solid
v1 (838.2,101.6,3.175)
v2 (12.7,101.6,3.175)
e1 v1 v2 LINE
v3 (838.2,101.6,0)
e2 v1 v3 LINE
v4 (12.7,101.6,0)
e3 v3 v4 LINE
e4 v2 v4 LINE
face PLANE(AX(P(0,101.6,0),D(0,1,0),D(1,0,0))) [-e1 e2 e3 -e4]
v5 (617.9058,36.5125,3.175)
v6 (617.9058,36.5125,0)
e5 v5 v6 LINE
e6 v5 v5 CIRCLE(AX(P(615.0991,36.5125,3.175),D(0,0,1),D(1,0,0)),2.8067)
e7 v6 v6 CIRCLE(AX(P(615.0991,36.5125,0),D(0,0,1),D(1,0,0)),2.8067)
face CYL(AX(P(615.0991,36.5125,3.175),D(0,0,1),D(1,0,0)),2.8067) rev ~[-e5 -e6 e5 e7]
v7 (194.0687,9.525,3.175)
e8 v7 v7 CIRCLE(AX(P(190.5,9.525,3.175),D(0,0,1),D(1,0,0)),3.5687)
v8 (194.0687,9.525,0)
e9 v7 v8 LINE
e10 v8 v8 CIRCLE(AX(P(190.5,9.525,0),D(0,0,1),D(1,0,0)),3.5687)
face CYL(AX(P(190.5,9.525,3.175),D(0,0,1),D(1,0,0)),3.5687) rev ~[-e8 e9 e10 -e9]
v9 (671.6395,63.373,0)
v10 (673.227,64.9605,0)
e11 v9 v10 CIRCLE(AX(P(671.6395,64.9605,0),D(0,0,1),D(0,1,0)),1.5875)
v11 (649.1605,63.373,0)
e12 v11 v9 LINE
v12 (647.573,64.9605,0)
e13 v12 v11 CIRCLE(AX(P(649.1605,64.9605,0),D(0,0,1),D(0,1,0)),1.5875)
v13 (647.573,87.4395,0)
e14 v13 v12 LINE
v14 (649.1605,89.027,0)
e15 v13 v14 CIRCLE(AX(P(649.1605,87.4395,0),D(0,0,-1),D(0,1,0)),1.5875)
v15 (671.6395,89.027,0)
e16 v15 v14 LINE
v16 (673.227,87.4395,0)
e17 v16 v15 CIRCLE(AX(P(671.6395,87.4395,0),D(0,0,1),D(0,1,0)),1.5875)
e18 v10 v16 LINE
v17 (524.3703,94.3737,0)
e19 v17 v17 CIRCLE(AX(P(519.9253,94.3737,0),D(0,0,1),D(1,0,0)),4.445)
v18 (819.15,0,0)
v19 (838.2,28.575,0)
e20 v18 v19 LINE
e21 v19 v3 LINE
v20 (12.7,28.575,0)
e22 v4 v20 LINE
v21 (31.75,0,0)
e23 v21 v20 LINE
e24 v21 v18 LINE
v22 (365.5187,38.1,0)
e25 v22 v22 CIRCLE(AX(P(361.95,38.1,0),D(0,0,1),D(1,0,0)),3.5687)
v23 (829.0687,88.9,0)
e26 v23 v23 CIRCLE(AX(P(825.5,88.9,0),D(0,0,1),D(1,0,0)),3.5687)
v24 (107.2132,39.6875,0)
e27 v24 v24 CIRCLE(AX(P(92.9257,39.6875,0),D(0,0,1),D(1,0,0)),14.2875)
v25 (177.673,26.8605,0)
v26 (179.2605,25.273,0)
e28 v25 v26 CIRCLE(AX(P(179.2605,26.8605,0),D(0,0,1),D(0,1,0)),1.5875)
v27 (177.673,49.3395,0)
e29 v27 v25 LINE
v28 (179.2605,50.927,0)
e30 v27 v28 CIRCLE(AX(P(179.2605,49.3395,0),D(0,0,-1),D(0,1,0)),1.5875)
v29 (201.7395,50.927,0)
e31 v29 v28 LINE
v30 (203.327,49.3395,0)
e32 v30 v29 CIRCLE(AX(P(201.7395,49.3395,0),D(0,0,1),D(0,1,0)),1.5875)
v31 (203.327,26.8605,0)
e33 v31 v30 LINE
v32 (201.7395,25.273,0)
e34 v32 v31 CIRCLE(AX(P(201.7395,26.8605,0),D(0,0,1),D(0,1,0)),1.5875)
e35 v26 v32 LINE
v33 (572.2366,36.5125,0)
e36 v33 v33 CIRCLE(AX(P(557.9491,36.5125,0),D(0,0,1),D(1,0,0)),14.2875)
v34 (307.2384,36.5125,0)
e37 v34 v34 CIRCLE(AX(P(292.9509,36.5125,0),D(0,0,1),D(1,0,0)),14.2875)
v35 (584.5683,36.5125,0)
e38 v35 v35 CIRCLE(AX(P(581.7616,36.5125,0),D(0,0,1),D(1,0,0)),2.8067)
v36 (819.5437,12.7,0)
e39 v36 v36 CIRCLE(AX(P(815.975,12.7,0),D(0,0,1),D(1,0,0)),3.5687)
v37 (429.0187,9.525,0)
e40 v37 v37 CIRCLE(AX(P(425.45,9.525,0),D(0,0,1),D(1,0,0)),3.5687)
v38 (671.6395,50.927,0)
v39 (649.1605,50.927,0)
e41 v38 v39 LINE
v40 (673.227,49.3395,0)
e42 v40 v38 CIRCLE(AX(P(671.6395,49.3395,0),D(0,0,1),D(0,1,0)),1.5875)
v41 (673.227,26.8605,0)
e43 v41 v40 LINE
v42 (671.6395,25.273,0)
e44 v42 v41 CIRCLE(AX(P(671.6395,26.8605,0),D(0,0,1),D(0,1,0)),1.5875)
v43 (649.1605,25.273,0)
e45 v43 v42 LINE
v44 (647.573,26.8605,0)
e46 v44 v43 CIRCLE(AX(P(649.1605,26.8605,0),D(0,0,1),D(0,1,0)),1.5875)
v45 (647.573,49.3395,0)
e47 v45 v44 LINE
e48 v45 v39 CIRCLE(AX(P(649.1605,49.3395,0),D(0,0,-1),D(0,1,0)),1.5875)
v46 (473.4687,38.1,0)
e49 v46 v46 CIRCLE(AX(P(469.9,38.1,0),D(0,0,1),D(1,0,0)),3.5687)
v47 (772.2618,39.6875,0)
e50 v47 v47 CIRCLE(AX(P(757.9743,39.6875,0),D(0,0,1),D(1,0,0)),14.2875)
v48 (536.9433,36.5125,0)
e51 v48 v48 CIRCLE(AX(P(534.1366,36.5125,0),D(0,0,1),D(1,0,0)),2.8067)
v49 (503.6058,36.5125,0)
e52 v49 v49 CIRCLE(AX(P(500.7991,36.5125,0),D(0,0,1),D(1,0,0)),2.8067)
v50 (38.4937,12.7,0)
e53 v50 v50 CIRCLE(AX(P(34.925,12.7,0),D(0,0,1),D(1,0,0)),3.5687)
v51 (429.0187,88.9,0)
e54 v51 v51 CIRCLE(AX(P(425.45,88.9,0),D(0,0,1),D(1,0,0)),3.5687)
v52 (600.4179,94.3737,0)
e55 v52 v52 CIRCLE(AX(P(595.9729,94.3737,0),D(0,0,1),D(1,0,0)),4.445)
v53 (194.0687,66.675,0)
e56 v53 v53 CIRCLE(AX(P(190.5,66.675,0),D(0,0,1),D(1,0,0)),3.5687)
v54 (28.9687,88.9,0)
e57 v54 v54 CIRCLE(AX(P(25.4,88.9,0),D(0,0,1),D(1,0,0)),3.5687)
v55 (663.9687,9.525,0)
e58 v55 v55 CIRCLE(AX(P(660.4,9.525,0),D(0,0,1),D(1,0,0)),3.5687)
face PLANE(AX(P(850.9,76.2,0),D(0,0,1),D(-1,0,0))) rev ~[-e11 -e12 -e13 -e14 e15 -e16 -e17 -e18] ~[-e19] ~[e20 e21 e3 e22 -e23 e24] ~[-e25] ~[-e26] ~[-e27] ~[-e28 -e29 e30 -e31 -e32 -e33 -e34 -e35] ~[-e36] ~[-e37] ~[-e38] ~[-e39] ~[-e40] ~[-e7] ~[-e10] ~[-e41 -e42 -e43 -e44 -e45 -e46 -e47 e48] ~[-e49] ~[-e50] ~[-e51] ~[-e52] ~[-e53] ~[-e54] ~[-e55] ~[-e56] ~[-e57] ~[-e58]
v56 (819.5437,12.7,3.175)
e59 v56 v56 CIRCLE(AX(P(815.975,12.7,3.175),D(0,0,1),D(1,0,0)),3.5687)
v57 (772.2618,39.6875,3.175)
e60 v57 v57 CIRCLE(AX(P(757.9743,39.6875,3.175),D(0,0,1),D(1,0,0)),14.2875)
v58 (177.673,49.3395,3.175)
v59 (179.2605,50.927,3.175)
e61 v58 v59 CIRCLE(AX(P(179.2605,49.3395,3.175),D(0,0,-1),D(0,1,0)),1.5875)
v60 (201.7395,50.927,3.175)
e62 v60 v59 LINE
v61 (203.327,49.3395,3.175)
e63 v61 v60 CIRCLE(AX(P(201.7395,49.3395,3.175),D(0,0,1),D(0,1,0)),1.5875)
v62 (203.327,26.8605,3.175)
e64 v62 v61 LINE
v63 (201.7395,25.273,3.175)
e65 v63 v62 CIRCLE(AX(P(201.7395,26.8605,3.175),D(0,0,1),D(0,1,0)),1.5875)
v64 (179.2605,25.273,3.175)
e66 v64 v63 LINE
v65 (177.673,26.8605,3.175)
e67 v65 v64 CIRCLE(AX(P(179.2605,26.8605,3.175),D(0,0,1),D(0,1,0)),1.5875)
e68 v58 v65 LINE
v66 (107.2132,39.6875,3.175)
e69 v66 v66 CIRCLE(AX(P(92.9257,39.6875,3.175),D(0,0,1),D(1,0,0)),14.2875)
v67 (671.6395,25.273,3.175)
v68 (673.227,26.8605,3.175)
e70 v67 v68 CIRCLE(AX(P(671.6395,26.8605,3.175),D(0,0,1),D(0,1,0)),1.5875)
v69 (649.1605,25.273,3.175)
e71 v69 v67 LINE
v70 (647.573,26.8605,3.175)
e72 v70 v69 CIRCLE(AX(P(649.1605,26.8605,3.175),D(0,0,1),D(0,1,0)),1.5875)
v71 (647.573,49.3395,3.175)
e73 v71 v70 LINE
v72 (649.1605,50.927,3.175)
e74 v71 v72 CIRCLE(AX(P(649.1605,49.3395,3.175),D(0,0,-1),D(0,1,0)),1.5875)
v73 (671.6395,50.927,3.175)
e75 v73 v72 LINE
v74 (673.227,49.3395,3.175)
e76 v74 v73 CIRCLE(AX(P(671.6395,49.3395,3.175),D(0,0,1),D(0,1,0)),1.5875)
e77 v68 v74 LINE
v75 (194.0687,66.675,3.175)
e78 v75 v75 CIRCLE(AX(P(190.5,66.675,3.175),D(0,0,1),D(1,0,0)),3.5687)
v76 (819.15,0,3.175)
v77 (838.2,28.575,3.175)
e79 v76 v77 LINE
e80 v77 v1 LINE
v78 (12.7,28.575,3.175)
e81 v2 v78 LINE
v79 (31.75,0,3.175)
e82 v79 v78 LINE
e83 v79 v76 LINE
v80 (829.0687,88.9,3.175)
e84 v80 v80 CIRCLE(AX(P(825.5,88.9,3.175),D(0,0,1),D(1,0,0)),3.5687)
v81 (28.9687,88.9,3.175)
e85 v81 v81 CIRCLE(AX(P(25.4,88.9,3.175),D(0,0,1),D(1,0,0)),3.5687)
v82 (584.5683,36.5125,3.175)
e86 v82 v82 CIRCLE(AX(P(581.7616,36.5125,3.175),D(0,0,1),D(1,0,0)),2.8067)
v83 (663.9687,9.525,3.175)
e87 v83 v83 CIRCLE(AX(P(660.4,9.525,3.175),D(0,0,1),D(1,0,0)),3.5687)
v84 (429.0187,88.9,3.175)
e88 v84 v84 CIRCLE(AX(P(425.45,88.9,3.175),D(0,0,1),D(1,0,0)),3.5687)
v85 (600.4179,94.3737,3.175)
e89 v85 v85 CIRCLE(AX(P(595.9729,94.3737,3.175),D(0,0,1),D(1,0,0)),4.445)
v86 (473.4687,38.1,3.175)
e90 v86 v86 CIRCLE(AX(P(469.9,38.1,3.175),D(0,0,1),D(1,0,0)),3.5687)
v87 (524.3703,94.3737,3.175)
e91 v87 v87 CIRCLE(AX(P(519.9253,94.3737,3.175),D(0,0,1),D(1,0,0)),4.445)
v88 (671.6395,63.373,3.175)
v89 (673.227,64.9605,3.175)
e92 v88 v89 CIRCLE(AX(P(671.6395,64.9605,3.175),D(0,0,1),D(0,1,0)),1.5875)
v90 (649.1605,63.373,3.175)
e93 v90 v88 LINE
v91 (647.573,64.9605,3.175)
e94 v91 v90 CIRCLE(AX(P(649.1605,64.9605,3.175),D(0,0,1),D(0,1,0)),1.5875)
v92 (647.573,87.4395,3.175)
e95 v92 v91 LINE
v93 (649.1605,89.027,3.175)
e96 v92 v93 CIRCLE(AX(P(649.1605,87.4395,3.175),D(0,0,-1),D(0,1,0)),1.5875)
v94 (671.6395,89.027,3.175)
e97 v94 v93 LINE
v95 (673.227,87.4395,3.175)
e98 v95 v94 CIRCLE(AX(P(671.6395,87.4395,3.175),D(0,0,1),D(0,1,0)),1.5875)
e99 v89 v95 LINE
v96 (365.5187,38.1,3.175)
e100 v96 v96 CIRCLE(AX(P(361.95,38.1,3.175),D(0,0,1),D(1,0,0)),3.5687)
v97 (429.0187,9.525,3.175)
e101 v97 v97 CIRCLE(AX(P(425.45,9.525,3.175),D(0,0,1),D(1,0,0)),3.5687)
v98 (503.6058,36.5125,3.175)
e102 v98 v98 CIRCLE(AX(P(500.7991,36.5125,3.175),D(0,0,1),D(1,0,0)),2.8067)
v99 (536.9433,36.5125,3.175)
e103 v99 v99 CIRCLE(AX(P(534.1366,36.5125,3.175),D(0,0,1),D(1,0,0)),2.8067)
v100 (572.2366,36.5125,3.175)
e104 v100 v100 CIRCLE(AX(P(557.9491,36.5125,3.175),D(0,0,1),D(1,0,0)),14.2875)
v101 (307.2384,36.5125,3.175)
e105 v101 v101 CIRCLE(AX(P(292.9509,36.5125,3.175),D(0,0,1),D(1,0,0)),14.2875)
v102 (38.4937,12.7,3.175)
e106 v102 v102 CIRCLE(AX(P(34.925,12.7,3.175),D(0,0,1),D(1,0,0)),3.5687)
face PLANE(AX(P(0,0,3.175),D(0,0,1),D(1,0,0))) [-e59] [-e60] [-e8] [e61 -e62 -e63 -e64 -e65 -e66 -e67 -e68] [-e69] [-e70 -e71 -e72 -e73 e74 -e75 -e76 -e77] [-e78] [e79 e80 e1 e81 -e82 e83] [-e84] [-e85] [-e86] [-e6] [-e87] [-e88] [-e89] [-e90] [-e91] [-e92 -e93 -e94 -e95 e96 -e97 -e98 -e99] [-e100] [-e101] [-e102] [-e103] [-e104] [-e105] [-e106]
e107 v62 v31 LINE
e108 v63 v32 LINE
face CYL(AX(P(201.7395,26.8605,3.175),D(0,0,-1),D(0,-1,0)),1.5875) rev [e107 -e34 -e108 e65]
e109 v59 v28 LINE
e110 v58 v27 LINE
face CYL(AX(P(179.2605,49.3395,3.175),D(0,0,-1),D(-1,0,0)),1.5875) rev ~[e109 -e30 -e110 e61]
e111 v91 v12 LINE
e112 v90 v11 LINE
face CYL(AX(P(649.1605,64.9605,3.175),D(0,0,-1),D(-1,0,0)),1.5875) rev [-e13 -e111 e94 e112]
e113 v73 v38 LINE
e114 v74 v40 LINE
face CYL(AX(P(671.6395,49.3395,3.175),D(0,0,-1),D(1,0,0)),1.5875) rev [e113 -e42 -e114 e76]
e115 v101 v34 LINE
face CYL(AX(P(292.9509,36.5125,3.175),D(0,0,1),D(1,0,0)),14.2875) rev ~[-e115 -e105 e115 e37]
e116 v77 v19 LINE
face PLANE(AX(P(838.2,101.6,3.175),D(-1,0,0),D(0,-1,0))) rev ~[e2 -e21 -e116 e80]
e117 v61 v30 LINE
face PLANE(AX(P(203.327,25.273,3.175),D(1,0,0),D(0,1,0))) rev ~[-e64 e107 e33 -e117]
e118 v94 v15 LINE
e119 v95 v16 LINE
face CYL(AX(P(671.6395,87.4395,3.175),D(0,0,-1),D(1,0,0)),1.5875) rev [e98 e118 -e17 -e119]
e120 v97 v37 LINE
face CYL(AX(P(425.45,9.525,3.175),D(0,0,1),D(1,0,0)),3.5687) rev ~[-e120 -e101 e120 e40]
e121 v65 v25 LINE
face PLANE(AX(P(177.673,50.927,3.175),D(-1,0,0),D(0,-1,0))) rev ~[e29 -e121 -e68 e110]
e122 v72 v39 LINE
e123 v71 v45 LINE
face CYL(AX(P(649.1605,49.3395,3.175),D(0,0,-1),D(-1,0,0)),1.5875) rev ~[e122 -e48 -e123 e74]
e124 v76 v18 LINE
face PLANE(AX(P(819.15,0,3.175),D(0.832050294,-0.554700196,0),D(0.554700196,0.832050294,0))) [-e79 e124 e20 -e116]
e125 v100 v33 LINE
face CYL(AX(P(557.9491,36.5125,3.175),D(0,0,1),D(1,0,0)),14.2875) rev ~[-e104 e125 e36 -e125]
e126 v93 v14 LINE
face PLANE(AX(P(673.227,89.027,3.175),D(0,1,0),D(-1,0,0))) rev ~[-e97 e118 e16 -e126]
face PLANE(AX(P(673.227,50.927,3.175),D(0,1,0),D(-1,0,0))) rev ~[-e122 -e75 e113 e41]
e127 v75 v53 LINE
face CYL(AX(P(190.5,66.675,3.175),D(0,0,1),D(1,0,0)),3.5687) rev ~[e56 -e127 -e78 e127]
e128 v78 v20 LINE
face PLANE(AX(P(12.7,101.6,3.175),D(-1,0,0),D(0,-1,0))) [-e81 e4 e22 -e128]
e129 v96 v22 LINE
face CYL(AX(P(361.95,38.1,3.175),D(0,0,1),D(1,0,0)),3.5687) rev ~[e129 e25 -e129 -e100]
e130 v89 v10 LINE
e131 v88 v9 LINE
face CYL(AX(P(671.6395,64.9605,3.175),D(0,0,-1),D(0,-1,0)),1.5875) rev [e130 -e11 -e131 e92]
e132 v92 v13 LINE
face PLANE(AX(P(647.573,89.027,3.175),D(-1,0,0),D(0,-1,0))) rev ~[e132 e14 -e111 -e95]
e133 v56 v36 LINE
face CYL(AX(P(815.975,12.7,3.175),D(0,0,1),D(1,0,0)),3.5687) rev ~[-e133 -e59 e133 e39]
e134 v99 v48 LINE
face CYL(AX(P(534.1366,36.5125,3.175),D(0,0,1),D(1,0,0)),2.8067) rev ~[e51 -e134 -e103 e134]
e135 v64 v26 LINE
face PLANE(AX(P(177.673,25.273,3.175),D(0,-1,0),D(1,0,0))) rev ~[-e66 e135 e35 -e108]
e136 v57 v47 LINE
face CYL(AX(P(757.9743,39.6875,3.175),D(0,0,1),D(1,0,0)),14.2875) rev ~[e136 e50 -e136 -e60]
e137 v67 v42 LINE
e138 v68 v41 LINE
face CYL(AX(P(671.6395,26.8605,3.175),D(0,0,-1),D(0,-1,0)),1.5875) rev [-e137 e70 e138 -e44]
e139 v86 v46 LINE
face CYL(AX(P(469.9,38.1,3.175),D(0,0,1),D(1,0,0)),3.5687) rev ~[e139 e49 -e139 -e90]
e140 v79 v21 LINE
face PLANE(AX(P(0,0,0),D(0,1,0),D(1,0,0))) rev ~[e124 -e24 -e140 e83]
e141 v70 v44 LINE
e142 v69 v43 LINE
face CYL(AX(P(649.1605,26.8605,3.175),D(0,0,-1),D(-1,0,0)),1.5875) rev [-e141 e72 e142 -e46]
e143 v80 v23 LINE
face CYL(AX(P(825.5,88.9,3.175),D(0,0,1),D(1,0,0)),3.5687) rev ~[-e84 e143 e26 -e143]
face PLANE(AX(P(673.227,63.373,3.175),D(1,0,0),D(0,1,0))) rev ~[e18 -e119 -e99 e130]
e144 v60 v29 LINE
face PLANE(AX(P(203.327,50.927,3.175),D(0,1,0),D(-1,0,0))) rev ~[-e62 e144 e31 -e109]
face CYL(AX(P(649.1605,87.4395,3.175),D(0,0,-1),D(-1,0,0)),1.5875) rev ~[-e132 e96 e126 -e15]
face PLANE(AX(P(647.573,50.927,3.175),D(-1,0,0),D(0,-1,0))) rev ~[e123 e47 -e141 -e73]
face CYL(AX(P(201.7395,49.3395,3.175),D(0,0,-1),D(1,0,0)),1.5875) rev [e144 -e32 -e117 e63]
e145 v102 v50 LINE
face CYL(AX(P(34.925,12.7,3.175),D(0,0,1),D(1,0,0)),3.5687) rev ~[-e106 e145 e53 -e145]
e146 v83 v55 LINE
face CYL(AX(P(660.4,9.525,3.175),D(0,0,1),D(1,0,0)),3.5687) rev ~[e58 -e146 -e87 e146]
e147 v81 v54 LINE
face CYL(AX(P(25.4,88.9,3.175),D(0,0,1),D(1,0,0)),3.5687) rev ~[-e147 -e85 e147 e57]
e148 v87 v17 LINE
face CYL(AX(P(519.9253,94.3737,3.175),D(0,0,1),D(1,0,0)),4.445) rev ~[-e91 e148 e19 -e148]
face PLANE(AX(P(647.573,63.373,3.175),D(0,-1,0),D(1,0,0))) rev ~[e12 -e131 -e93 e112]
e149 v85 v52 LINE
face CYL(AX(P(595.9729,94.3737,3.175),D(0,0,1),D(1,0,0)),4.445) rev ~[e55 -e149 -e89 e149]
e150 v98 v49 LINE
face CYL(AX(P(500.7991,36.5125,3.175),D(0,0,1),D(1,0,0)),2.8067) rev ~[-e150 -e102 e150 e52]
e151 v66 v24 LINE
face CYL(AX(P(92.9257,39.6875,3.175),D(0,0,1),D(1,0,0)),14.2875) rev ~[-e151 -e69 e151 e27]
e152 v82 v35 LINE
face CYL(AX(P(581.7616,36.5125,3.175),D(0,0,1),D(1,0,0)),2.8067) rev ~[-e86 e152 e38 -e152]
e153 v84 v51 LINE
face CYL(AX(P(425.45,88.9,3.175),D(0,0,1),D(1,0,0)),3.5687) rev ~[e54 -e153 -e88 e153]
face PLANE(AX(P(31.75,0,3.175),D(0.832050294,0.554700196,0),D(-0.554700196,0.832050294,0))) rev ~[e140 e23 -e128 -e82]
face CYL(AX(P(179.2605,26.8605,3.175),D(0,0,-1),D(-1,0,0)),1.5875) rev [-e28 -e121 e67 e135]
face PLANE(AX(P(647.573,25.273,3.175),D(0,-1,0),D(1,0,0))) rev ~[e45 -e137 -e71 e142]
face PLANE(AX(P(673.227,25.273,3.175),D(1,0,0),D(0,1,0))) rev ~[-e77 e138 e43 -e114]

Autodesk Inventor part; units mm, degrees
ref_plane "YZ Plane" through (0, 0, 0) normal (1, 0, 0) x (0, 1, 0)
ref_plane "XZ Plane" through (0, 0, 0) normal (0, 1, 0) x (-1, 0, 0)
ref_plane "XY Plane" through (0, 0, 0) normal (0, 0, 1) x (1, 0, 0)
sketch "Sketch1" plane through (0, 0, 0) normal (0, 0, 1) x (1, 0, 0)
  line L0 (0, 0) -> (850.9, 0)
  line L1 (850.9, 0) -> (850.9, 76.2)
  line L2 (850.9, 76.2) -> (0, 76.2)
  line L3 (0, 76.2) -> (0, 0)
  dimension "d0" = 850.9
  dimension "d1" = 76.2
extrude "Extrusion1" add sketch "Sketch1" along normal blind 3.175
sketch "Sketch4" plane through (0, 0, 3.175) normal (0, 0, 1) x (1, 0, 0)
  line L0 (0, 0) -> (0, 38.1)
  line L1 (0, 76.2) -> (0, 0) projected
  line L2 (0, 0) -> (25.4, 0)
  line L3 (0, 0) -> (850.9, 0) projected
  line L4 (25.4, 0) -> (0, 38.1)
  line L5 (850.9, 0) -> (825.5, 0)
  line L6 (850.9, 0) -> (850.9, 38.1)
  line L7 (850.9, 0) -> (850.9, 76.2) projected
  line L8 (850.9, 38.1) -> (825.5, 0)
  line L9 (0, 38.1) -> (0, 36.5125)
  circle A0 centre (292.9509, 36.5125) radius 14.2875
  circle A1 centre (557.9491, 36.5125) radius 14.2875
  circle A2 centre (757.9743, 39.6875) radius 14.2875
  circle A3 centre (92.9257, 39.6875) radius 14.2875
  dimension "d24" = 38.1
  dimension "d26" = 25.4
  dimension "d27" = 38.1
  dimension "d33" = 28.575
  dimension "d34" = 28.575
  dimension "d38" = 28.575
  dimension "d39" = 28.575
extrude "Extrusion3" cut sketch "Sketch4" against normal blind 3.175
sketch "Sketch5" plane through (0, 0, 3.175) normal (0, 0, 1) x (1, 0, 0)
  line L0 (850.9, 76.2) -> (0, 76.2) projected
  line L1 (0, 76.2) -> (425.45, 76.2)
  circle A0 centre (425.45, 66.675) radius 3.5687
  circle A1 centre (425.45, 9.525) radius 3.5687
  line L2 (25.4, 0) -> (825.5, 0) projected
  line L3 (0, 76.2) -> (190.5, 76.2)
  circle A2 centre (190.5, 66.675) radius 3.5687
  circle A3 centre (190.5, 9.525) radius 3.5687
  circle A4 centre (190.5, 38.1) radius 3.5687
  line L4 (850.9, 38.1) -> (850.9, 76.2) projected
  line L5 (850.9, 76.2) -> (660.4, 76.2)
  circle A5 centre (660.4, 66.675) radius 3.5687
  circle A6 centre (660.4, 9.525) radius 3.5687
  circle A7 centre (660.4, 38.1) radius 3.5687
  circle A8 centre (838.2, 63.5) radius 3.5687
  circle A9 centre (12.7, 63.5) radius 3.5687
  line L6 (0, 76.2) -> (0, 38.1) projected
  circle A10 centre (34.925, 12.7) radius 3.5687
  circle A11 centre (815.975, 12.7) radius 3.5687
  point P0 (0, 0)
  dimension "d42" = 425.45
  dimension "d43" = 7.1374
  dimension "d44" = 9.525
  dimension "d45" = 7.1374
  dimension "d46" = 9.525
  dimension "d47" = 190.5
  dimension "d48" = 7.1374
  dimension "d49" = 9.525
  dimension "d50" = 7.1374
  dimension "d51" = 9.525
  dimension "d52" = 7.1374
  dimension "d53" = 38.1
  dimension "d54" = 190.5
  dimension "d55" = 7.1374
  dimension "d56" = 9.525
  dimension "d57" = 7.1374
  dimension "d58" = 9.525
  dimension "d59" = 7.1374
  dimension "d60" = 38.1
  dimension "d61" = 7.1374
  dimension "d62" = 12.7
  dimension "d63" = 12.7
  dimension "d64" = 7.1374
  dimension "d65" = 12.7
  dimension "d66" = 12.7
  dimension "d67" = 7.1374
  dimension "d69" = 12.7
  dimension "d70" = 9.525
  dimension "d71" = 7.1374
  dimension "d72" = 12.7
  dimension "d73" = 9.525
extrude "Extrusion4" cut sketch "Sketch5" against normal blind 3.175
sketch "Sketch6" plane through (0, 0, 3.175) normal (0, 0, 1) x (1, 0, 0)
  circle A0 centre (190.5, 38.1) radius 3.5687 projected
  circle A1 centre (660.4, 38.1) radius 3.5687 projected
  line L0 (177.673, 25.273) -> (203.327, 25.273)
  line L1 (203.327, 25.273) -> (203.327, 50.927)
  line L2 (203.327, 50.927) -> (177.673, 50.927)
  line L3 (177.673, 50.927) -> (177.673, 25.273)
  line L4 (177.673, 25.273) -> (203.327, 50.927) construction
  line L5 (203.327, 25.273) -> (177.673, 50.927) construction
  line L6 (647.573, 25.273) -> (673.227, 25.273)
  line L7 (673.227, 25.273) -> (673.227, 50.927)
  line L8 (673.227, 50.927) -> (647.573, 50.927)
  line L9 (647.573, 50.927) -> (647.573, 25.273)
  line L10 (647.573, 25.273) -> (673.227, 50.927) construction
  line L11 (673.227, 25.273) -> (647.573, 50.927) construction
  point P0 (0, 0)
  dimension "d76" = 25.654
  dimension "d77" = 25.654
  dimension "d78" = 25.654
  dimension "d79" = 25.654
extrude "Extrusion5" cut sketch "Sketch6" against normal blind 3.175
fillet "Fillet1" radius 1.5875 8 edges at (177.673, 25.273, 1.5875) (203.327, 25.273, 1.5875) (203.327, 50.927, 1.5875) (177.673, 50.927, 1.5875) (647.573, 50.927, 1.5875) (647.573, 25.273, 1.5875) (673.227, 50.927, 1.5875) (673.227, 25.273, 1.5875)
sketch "Sketch7" plane through (0, 0, 3.175) normal (0, 0, 1) x (1, 0, 0)
  circle A0 centre (557.9491, 36.5125) radius 14.2875 projected
  circle A1 centre (534.1366, 36.5125) radius 2.8067
  circle A2 centre (581.7616, 36.5125) radius 2.8067
  circle A3 centre (615.0991, 36.5125) radius 2.8067
  circle A4 centre (499.8313, 36.5125) radius 2.8067
  point P0 (0, 0)
  dimension "d85" = 5.6134
  dimension "d86" = 5.6134
  dimension "d87" = 5.6134
  dimension "d88" = 5.6134
extrude "Extrusion6" cut sketch "Sketch7" against normal blind 25.4 contours A1 | A2 | A3 | A4
sketch "Sketch8" plane through (0, 0, 3.175) normal (0, 0, 1) x (1, 0, 0)
  circle A0 centre (361.95, 38.1) radius 3.5687
  line L0 (850.9, 76.2) -> (0, 76.2) projected
  line L1 (0, 76.2) -> (0, 38.1) projected
  circle A1 centre (469.9, 38.1) radius 3.5687
  line L2 (850.9, 38.1) -> (850.9, 76.2) projected
  point P0 (0, 0)
  dimension "d91" = 7.1374
  dimension "d92" = 38.1
  dimension "d93" = 361.95
  dimension "d94" = 7.1374
  dimension "d95" = 38.1
  dimension "d102" = 381
extrude "Extrusion10" cut sketch "Sketch8" against normal blind 25.4
sketch "Sketch9" plane through (0, 76.2, 0) normal (0, 1, 0) x (1, 0, 0)
  line L0 (850.9, 0) -> (0, 0) projected
  line L1 (0, 0) -> (0, -3.175) projected
  line L2 (850.9, -3.175) -> (0, -3.175) projected
  line L3 (850.9, 0) -> (850.9, -3.175) projected
extrude "Extrusion11" add sketch "Sketch9" along normal blind 25.4
sketch "Sketch10" plane through (0, 0, 3.175) normal (0, 0, 1) x (1, 0, 0)
  circle A0 centre (12.7, 63.5) radius 3.5687 projected
  circle A1 centre (838.2, 63.5) radius 3.5687 projected
  circle A2 centre (425.45, 66.675) radius 3.5687 projected
  point P0 (0, 0)
extrude "Extrusion13" add sketch "Sketch10" against normal blind 3.175
sketch "Sketch12" plane through (0, 0, 3.175) normal (0, 0, 1) x (1, 0, 0)
  circle A0 centre (12.7, 88.9) radius 3.5687
  circle A1 centre (425.45, 88.9) radius 3.5687
  circle A2 centre (838.2, 88.9) radius 3.5687
  line L0 (850.9, 38.1) -> (850.9, 101.6) projected
  line L1 (0, 101.6) -> (850.9, 101.6) projected
  line L2 (0, 38.1) -> (0, 101.6) projected
  point P0 (0, 0)
  dimension "d113" = 7.1374
  dimension "d114" = 7.1374
  dimension "d115" = 7.1374
  dimension "d116" = 12.7
  dimension "d117" = 12.7
  dimension "d118" = 12.7
  dimension "d119" = 425.45
  dimension "d120" = 12.7
  dimension "d121" = 12.7
extrude "Extrusion14" cut sketch "Sketch12" against normal blind 3.175
sketch "Sketch14" plane through (0, 0, 3.175) normal (0, 0, 1) x (1, 0, 0)
  circle A0 centre (499.8313, 36.5125) radius 2.8067 projected
  point P0 (0, 0)
extrude "Extrusion16" add sketch "Sketch14" against normal blind 3.175
sketch "Sketch15" plane through (0, 0, 3.175) normal (0, 0, 1) x (1, 0, 0)
  circle A0 centre (557.9491, 36.5125) radius 14.2875 projected
  circle A1 centre (500.7991, 36.5125) radius 2.8067
  point P0 (0, 0)
  dimension "d137" = 5.6134
extrude "Extrusion17" cut sketch "Sketch15" against normal blind 3.175 contours A1
sketch "Sketch16" plane through (0, 0, 3.175) normal (0, 0, 1) x (1, 0, 0)
  circle A0 centre (519.9253, 94.3737) radius 4.445
  circle A1 centre (595.9729, 94.3737) radius 4.445
  circle A2 centre (615.0991, 36.5125) radius 2.8067 projected
  circle A3 centre (500.7991, 36.5125) radius 2.8067 projected
  point P0 (0, 0)
  dimension "d140" = 8.89
  dimension "d141" = 8.89
  dimension "d142" = 57.8612
  dimension "d143" = 19.1262
  dimension "d144" = 57.8612
  dimension "d145" = 19.1262
extrude "Extrusion18" cut sketch "Sketch16" against normal blind 3.175 contours A0 | A1
sketch "Sketch17" plane through (0, 0, 3.175) normal (0, 0, 1) x (1, 0, 0)
  line L0 (0, 101.6) -> (850.9, 101.6) projected
  line L1 (0, 101.6) -> (12.7, 101.6)
  line L2 (12.7, 101.6) -> (12.7, 19.05)
  line L3 (0, 38.1) -> (25.4, 0) projected
  line L4 (12.7, 19.05) -> (0, 38.1)
  line L5 (0, 38.1) -> (0, 101.6)
  line L6 (850.9, 101.6) -> (838.2, 101.6)
  line L7 (838.2, 101.6) -> (838.2, 19.05)
  line L8 (825.5, 0) -> (850.9, 38.1) projected
  line L9 (838.2, 19.05) -> (850.9, 38.1)
  line L10 (850.9, 38.1) -> (850.9, 101.6) projected
  line L11 (850.9, 38.1) -> (850.9, 101.6)
  point P0 (0, 0)
  dimension "d148" = 12.7
  dimension "d149" = 12.7
extrude "Extrusion19" cut sketch "Sketch17" against normal blind 25.4
sketch "Sketch18" plane through (0, 0, 3.175) normal (0, 0, 1) x (1, 0, 0)
  arc A0 (12.7, 85.3313) -> (12.7, 92.4687) centre (12.7, 88.9) ccw projected
  arc A1 (838.2, 92.4687) -> (838.2, 85.3313) centre (838.2, 88.9) ccw projected
  line L0 (838.2, 92.4687) -> (838.2, 85.3313)
  line L1 (12.7, 85.3313) -> (12.7, 92.4687)
  point P0 (0, 0)
extrude "Extrusion20" add sketch "Sketch18" against normal blind 3.175
sketch "Sketch19" plane through (0, 0, 3.175) normal (0, 0, 1) x (1, 0, 0)
  line L0 (25.4, 0) -> (825.5, 0) projected
  line L1 (25.4, 0) -> (31.75, 0)
  line L2 (31.75, 0) -> (12.7, 28.575)
  line L3 (12.7, 19.05) -> (12.7, 101.6) projected
  line L4 (12.7, 19.05) -> (25.4, 0) projected
  line L5 (12.7, 28.575) -> (12.7, 19.05)
  line L6 (12.7, 19.05) -> (25.4, 0)
  line L7 (825.5, 0) -> (819.15, 0)
  line L8 (819.15, 0) -> (838.2, 28.575)
  line L9 (838.2, 101.6) -> (838.2, 19.05) projected
  line L10 (825.5, 0) -> (838.2, 19.05) projected
  line L11 (838.2, 28.575) -> (838.2, 19.05)
  line L12 (838.2, 19.05) -> (825.5, 0)
  point P0 (0, 0)
  dimension "d154" = 6.35
  dimension "d155" = 6.35
extrude "Extrusion21" cut sketch "Sketch19" against normal blind 3.175
sketch "Sketch20" plane through (0, 0, 3.175) normal (0, 0, 1) x (1, 0, 0)
  circle A0 centre (25.4, 88.9) radius 3.5687
  line L0 (12.7, 101.6) -> (838.2, 101.6) projected
  line L1 (12.7, 101.6) -> (12.7, 28.575) projected
  circle A1 centre (825.5, 88.9) radius 3.5687
  line L2 (838.2, 101.6) -> (838.2, 28.575) projected
  point P0 (0, 0)
  dimension "d158" = 7.1374
  dimension "d159" = 12.7
  dimension "d160" = 12.7
  dimension "d161" = 7.1374
  dimension "d162" = 12.7
  dimension "d163" = 12.7
extrude "Extrusion22" cut sketch "Sketch20" against normal blind 3.175
sketch "Sketch22" plane through (0, 0, 3.175) normal (0, 0, 1) x (1, 0, 0)
  circle A0 centre (660.4, 66.675) radius 3.5687 projected
  point P0 (0, 0)
extrude "Extrusion23" add sketch "Sketch22" against normal blind 3.175
sketch "Sketch24" plane through (0, 0, 3.175) normal (0, 0, 1) x (1, 0, 0)
  line L0 (649.1605, 50.927) -> (671.6395, 50.927) projected
  line L1 (673.227, 49.3395) -> (673.227, 26.8605) projected
  arc A0 (673.227, 49.3395) -> (671.6395, 50.927) centre (671.6395, 49.3395) ccw projected
  arc A1 (671.6395, 25.273) -> (673.227, 26.8605) centre (671.6395, 26.8605) ccw projected
  circle A2 centre (25.4, 88.9) radius 3.5687 projected
  circle A3 centre (825.5, 88.9) radius 3.5687 projected
  line L2 (12.7, 28.575) -> (31.75, 0) projected
  line L3 (31.75, 0) -> (819.15, 0) projected
  line L4 (819.15, 0) -> (838.2, 28.575) projected
  line L5 (838.2, 101.6) -> (838.2, 28.575) projected
  line L6 (12.7, 101.6) -> (838.2, 101.6) projected
  line L7 (12.7, 101.6) -> (12.7, 28.575) projected
  circle A4 centre (519.9253, 94.3737) radius 4.445 projected
  circle A5 centre (595.9729, 94.3737) radius 4.445 projected
  circle A6 centre (500.7991, 36.5125) radius 2.8067 projected
  circle A7 centre (425.45, 88.9) radius 3.5687 projected
  circle A8 centre (361.95, 38.1) radius 3.5687 projected
  circle A9 centre (469.9, 38.1) radius 3.5687 projected
  circle A10 centre (615.0991, 36.5125) radius 2.8067 projected
  circle A11 centre (534.1366, 36.5125) radius 2.8067 projected
  circle A12 centre (581.7616, 36.5125) radius 2.8067 projected
  line L8 (203.327, 49.3395) -> (203.327, 26.8605) projected
  arc A13 (201.7395, 25.273) -> (203.327, 26.8605) centre (201.7395, 26.8605) ccw projected
  line L9 (201.7395, 25.273) -> (179.2605, 25.273) projected
  arc A14 (177.673, 26.8605) -> (179.2605, 25.273) centre (179.2605, 26.8605) ccw projected
  line L10 (177.673, 26.8605) -> (177.673, 49.3395) projected
  arc A15 (179.2605, 50.927) -> (177.673, 49.3395) centre (179.2605, 49.3395) ccw projected
  line L11 (179.2605, 50.927) -> (201.7395, 50.927) projected
  arc A16 (203.327, 49.3395) -> (201.7395, 50.927) centre (201.7395, 49.3395) ccw projected
  line L12 (673.227, 49.3395) -> (673.227, 26.8605) projected
  arc A17 (671.6395, 25.273) -> (673.227, 26.8605) centre (671.6395, 26.8605) ccw projected
  line L13 (671.6395, 25.273) -> (649.1605, 25.273) projected
  arc A18 (647.573, 26.8605) -> (649.1605, 25.273) centre (649.1605, 26.8605) ccw projected
  line L14 (647.573, 26.8605) -> (647.573, 49.3395) projected
  arc A19 (649.1605, 50.927) -> (647.573, 49.3395) centre (649.1605, 49.3395) ccw projected
  line L15 (649.1605, 50.927) -> (671.6395, 50.927) projected
  arc A20 (673.227, 49.3395) -> (671.6395, 50.927) centre (671.6395, 49.3395) ccw projected
  circle A21 centre (34.925, 12.7) radius 3.5687 projected
  circle A22 centre (660.4, 9.525) radius 3.5687 projected
  circle A23 centre (190.5, 66.675) radius 3.5687 projected
  circle A24 centre (425.45, 9.525) radius 3.5687 projected
  circle A25 centre (190.5, 9.525) radius 3.5687 projected
  circle A26 centre (815.975, 12.7) radius 3.5687 projected
  circle A27 centre (757.9743, 39.6875) radius 14.2875 projected
  circle A28 centre (292.9509, 36.5125) radius 14.2875 projected
  circle A29 centre (557.9491, 36.5125) radius 14.2875 projected
  circle A30 centre (92.9257, 39.6875) radius 14.2875 projected
  line L16 (671.6395, 25.273) -> (649.1605, 25.273) projected
  line L17 (647.573, 63.373) -> (673.227, 63.373)
  line L18 (673.227, 63.373) -> (673.227, 89.027)
  line L19 (673.227, 89.027) -> (647.573, 89.027)
  line L20 (647.573, 89.027) -> (647.573, 63.373)
  line L21 (647.573, 63.373) -> (673.227, 89.027) construction
  line L22 (673.227, 63.373) -> (647.573, 89.027) construction
  line L23 (660.4, 50.927) -> (660.4, 25.273)
  line L24 (647.573, 26.8605) -> (647.573, 49.3395) projected
  line L25 (647.573, 38.1) -> (673.227, 38.1)
  point P0 (0, 0)
  point P1 (660.4, 76.2)
  dimension "d174" = 25.654
  dimension "d175" = 25.654
  dimension "d176" = 38.1
extrude "Extrusion25" cut sketch "Sketch24" against normal blind 3.175 contours L20 L19 L18 L17
fillet "Fillet3" radius 1.5875 4 edges at (647.573, 63.373, 1.5875) (673.227, 63.373, 1.5875) (673.227, 89.027, 1.5875) (647.573, 89.027, 1.5875)
properties part number "InsidePlate2" material "Aluminum 6061"
